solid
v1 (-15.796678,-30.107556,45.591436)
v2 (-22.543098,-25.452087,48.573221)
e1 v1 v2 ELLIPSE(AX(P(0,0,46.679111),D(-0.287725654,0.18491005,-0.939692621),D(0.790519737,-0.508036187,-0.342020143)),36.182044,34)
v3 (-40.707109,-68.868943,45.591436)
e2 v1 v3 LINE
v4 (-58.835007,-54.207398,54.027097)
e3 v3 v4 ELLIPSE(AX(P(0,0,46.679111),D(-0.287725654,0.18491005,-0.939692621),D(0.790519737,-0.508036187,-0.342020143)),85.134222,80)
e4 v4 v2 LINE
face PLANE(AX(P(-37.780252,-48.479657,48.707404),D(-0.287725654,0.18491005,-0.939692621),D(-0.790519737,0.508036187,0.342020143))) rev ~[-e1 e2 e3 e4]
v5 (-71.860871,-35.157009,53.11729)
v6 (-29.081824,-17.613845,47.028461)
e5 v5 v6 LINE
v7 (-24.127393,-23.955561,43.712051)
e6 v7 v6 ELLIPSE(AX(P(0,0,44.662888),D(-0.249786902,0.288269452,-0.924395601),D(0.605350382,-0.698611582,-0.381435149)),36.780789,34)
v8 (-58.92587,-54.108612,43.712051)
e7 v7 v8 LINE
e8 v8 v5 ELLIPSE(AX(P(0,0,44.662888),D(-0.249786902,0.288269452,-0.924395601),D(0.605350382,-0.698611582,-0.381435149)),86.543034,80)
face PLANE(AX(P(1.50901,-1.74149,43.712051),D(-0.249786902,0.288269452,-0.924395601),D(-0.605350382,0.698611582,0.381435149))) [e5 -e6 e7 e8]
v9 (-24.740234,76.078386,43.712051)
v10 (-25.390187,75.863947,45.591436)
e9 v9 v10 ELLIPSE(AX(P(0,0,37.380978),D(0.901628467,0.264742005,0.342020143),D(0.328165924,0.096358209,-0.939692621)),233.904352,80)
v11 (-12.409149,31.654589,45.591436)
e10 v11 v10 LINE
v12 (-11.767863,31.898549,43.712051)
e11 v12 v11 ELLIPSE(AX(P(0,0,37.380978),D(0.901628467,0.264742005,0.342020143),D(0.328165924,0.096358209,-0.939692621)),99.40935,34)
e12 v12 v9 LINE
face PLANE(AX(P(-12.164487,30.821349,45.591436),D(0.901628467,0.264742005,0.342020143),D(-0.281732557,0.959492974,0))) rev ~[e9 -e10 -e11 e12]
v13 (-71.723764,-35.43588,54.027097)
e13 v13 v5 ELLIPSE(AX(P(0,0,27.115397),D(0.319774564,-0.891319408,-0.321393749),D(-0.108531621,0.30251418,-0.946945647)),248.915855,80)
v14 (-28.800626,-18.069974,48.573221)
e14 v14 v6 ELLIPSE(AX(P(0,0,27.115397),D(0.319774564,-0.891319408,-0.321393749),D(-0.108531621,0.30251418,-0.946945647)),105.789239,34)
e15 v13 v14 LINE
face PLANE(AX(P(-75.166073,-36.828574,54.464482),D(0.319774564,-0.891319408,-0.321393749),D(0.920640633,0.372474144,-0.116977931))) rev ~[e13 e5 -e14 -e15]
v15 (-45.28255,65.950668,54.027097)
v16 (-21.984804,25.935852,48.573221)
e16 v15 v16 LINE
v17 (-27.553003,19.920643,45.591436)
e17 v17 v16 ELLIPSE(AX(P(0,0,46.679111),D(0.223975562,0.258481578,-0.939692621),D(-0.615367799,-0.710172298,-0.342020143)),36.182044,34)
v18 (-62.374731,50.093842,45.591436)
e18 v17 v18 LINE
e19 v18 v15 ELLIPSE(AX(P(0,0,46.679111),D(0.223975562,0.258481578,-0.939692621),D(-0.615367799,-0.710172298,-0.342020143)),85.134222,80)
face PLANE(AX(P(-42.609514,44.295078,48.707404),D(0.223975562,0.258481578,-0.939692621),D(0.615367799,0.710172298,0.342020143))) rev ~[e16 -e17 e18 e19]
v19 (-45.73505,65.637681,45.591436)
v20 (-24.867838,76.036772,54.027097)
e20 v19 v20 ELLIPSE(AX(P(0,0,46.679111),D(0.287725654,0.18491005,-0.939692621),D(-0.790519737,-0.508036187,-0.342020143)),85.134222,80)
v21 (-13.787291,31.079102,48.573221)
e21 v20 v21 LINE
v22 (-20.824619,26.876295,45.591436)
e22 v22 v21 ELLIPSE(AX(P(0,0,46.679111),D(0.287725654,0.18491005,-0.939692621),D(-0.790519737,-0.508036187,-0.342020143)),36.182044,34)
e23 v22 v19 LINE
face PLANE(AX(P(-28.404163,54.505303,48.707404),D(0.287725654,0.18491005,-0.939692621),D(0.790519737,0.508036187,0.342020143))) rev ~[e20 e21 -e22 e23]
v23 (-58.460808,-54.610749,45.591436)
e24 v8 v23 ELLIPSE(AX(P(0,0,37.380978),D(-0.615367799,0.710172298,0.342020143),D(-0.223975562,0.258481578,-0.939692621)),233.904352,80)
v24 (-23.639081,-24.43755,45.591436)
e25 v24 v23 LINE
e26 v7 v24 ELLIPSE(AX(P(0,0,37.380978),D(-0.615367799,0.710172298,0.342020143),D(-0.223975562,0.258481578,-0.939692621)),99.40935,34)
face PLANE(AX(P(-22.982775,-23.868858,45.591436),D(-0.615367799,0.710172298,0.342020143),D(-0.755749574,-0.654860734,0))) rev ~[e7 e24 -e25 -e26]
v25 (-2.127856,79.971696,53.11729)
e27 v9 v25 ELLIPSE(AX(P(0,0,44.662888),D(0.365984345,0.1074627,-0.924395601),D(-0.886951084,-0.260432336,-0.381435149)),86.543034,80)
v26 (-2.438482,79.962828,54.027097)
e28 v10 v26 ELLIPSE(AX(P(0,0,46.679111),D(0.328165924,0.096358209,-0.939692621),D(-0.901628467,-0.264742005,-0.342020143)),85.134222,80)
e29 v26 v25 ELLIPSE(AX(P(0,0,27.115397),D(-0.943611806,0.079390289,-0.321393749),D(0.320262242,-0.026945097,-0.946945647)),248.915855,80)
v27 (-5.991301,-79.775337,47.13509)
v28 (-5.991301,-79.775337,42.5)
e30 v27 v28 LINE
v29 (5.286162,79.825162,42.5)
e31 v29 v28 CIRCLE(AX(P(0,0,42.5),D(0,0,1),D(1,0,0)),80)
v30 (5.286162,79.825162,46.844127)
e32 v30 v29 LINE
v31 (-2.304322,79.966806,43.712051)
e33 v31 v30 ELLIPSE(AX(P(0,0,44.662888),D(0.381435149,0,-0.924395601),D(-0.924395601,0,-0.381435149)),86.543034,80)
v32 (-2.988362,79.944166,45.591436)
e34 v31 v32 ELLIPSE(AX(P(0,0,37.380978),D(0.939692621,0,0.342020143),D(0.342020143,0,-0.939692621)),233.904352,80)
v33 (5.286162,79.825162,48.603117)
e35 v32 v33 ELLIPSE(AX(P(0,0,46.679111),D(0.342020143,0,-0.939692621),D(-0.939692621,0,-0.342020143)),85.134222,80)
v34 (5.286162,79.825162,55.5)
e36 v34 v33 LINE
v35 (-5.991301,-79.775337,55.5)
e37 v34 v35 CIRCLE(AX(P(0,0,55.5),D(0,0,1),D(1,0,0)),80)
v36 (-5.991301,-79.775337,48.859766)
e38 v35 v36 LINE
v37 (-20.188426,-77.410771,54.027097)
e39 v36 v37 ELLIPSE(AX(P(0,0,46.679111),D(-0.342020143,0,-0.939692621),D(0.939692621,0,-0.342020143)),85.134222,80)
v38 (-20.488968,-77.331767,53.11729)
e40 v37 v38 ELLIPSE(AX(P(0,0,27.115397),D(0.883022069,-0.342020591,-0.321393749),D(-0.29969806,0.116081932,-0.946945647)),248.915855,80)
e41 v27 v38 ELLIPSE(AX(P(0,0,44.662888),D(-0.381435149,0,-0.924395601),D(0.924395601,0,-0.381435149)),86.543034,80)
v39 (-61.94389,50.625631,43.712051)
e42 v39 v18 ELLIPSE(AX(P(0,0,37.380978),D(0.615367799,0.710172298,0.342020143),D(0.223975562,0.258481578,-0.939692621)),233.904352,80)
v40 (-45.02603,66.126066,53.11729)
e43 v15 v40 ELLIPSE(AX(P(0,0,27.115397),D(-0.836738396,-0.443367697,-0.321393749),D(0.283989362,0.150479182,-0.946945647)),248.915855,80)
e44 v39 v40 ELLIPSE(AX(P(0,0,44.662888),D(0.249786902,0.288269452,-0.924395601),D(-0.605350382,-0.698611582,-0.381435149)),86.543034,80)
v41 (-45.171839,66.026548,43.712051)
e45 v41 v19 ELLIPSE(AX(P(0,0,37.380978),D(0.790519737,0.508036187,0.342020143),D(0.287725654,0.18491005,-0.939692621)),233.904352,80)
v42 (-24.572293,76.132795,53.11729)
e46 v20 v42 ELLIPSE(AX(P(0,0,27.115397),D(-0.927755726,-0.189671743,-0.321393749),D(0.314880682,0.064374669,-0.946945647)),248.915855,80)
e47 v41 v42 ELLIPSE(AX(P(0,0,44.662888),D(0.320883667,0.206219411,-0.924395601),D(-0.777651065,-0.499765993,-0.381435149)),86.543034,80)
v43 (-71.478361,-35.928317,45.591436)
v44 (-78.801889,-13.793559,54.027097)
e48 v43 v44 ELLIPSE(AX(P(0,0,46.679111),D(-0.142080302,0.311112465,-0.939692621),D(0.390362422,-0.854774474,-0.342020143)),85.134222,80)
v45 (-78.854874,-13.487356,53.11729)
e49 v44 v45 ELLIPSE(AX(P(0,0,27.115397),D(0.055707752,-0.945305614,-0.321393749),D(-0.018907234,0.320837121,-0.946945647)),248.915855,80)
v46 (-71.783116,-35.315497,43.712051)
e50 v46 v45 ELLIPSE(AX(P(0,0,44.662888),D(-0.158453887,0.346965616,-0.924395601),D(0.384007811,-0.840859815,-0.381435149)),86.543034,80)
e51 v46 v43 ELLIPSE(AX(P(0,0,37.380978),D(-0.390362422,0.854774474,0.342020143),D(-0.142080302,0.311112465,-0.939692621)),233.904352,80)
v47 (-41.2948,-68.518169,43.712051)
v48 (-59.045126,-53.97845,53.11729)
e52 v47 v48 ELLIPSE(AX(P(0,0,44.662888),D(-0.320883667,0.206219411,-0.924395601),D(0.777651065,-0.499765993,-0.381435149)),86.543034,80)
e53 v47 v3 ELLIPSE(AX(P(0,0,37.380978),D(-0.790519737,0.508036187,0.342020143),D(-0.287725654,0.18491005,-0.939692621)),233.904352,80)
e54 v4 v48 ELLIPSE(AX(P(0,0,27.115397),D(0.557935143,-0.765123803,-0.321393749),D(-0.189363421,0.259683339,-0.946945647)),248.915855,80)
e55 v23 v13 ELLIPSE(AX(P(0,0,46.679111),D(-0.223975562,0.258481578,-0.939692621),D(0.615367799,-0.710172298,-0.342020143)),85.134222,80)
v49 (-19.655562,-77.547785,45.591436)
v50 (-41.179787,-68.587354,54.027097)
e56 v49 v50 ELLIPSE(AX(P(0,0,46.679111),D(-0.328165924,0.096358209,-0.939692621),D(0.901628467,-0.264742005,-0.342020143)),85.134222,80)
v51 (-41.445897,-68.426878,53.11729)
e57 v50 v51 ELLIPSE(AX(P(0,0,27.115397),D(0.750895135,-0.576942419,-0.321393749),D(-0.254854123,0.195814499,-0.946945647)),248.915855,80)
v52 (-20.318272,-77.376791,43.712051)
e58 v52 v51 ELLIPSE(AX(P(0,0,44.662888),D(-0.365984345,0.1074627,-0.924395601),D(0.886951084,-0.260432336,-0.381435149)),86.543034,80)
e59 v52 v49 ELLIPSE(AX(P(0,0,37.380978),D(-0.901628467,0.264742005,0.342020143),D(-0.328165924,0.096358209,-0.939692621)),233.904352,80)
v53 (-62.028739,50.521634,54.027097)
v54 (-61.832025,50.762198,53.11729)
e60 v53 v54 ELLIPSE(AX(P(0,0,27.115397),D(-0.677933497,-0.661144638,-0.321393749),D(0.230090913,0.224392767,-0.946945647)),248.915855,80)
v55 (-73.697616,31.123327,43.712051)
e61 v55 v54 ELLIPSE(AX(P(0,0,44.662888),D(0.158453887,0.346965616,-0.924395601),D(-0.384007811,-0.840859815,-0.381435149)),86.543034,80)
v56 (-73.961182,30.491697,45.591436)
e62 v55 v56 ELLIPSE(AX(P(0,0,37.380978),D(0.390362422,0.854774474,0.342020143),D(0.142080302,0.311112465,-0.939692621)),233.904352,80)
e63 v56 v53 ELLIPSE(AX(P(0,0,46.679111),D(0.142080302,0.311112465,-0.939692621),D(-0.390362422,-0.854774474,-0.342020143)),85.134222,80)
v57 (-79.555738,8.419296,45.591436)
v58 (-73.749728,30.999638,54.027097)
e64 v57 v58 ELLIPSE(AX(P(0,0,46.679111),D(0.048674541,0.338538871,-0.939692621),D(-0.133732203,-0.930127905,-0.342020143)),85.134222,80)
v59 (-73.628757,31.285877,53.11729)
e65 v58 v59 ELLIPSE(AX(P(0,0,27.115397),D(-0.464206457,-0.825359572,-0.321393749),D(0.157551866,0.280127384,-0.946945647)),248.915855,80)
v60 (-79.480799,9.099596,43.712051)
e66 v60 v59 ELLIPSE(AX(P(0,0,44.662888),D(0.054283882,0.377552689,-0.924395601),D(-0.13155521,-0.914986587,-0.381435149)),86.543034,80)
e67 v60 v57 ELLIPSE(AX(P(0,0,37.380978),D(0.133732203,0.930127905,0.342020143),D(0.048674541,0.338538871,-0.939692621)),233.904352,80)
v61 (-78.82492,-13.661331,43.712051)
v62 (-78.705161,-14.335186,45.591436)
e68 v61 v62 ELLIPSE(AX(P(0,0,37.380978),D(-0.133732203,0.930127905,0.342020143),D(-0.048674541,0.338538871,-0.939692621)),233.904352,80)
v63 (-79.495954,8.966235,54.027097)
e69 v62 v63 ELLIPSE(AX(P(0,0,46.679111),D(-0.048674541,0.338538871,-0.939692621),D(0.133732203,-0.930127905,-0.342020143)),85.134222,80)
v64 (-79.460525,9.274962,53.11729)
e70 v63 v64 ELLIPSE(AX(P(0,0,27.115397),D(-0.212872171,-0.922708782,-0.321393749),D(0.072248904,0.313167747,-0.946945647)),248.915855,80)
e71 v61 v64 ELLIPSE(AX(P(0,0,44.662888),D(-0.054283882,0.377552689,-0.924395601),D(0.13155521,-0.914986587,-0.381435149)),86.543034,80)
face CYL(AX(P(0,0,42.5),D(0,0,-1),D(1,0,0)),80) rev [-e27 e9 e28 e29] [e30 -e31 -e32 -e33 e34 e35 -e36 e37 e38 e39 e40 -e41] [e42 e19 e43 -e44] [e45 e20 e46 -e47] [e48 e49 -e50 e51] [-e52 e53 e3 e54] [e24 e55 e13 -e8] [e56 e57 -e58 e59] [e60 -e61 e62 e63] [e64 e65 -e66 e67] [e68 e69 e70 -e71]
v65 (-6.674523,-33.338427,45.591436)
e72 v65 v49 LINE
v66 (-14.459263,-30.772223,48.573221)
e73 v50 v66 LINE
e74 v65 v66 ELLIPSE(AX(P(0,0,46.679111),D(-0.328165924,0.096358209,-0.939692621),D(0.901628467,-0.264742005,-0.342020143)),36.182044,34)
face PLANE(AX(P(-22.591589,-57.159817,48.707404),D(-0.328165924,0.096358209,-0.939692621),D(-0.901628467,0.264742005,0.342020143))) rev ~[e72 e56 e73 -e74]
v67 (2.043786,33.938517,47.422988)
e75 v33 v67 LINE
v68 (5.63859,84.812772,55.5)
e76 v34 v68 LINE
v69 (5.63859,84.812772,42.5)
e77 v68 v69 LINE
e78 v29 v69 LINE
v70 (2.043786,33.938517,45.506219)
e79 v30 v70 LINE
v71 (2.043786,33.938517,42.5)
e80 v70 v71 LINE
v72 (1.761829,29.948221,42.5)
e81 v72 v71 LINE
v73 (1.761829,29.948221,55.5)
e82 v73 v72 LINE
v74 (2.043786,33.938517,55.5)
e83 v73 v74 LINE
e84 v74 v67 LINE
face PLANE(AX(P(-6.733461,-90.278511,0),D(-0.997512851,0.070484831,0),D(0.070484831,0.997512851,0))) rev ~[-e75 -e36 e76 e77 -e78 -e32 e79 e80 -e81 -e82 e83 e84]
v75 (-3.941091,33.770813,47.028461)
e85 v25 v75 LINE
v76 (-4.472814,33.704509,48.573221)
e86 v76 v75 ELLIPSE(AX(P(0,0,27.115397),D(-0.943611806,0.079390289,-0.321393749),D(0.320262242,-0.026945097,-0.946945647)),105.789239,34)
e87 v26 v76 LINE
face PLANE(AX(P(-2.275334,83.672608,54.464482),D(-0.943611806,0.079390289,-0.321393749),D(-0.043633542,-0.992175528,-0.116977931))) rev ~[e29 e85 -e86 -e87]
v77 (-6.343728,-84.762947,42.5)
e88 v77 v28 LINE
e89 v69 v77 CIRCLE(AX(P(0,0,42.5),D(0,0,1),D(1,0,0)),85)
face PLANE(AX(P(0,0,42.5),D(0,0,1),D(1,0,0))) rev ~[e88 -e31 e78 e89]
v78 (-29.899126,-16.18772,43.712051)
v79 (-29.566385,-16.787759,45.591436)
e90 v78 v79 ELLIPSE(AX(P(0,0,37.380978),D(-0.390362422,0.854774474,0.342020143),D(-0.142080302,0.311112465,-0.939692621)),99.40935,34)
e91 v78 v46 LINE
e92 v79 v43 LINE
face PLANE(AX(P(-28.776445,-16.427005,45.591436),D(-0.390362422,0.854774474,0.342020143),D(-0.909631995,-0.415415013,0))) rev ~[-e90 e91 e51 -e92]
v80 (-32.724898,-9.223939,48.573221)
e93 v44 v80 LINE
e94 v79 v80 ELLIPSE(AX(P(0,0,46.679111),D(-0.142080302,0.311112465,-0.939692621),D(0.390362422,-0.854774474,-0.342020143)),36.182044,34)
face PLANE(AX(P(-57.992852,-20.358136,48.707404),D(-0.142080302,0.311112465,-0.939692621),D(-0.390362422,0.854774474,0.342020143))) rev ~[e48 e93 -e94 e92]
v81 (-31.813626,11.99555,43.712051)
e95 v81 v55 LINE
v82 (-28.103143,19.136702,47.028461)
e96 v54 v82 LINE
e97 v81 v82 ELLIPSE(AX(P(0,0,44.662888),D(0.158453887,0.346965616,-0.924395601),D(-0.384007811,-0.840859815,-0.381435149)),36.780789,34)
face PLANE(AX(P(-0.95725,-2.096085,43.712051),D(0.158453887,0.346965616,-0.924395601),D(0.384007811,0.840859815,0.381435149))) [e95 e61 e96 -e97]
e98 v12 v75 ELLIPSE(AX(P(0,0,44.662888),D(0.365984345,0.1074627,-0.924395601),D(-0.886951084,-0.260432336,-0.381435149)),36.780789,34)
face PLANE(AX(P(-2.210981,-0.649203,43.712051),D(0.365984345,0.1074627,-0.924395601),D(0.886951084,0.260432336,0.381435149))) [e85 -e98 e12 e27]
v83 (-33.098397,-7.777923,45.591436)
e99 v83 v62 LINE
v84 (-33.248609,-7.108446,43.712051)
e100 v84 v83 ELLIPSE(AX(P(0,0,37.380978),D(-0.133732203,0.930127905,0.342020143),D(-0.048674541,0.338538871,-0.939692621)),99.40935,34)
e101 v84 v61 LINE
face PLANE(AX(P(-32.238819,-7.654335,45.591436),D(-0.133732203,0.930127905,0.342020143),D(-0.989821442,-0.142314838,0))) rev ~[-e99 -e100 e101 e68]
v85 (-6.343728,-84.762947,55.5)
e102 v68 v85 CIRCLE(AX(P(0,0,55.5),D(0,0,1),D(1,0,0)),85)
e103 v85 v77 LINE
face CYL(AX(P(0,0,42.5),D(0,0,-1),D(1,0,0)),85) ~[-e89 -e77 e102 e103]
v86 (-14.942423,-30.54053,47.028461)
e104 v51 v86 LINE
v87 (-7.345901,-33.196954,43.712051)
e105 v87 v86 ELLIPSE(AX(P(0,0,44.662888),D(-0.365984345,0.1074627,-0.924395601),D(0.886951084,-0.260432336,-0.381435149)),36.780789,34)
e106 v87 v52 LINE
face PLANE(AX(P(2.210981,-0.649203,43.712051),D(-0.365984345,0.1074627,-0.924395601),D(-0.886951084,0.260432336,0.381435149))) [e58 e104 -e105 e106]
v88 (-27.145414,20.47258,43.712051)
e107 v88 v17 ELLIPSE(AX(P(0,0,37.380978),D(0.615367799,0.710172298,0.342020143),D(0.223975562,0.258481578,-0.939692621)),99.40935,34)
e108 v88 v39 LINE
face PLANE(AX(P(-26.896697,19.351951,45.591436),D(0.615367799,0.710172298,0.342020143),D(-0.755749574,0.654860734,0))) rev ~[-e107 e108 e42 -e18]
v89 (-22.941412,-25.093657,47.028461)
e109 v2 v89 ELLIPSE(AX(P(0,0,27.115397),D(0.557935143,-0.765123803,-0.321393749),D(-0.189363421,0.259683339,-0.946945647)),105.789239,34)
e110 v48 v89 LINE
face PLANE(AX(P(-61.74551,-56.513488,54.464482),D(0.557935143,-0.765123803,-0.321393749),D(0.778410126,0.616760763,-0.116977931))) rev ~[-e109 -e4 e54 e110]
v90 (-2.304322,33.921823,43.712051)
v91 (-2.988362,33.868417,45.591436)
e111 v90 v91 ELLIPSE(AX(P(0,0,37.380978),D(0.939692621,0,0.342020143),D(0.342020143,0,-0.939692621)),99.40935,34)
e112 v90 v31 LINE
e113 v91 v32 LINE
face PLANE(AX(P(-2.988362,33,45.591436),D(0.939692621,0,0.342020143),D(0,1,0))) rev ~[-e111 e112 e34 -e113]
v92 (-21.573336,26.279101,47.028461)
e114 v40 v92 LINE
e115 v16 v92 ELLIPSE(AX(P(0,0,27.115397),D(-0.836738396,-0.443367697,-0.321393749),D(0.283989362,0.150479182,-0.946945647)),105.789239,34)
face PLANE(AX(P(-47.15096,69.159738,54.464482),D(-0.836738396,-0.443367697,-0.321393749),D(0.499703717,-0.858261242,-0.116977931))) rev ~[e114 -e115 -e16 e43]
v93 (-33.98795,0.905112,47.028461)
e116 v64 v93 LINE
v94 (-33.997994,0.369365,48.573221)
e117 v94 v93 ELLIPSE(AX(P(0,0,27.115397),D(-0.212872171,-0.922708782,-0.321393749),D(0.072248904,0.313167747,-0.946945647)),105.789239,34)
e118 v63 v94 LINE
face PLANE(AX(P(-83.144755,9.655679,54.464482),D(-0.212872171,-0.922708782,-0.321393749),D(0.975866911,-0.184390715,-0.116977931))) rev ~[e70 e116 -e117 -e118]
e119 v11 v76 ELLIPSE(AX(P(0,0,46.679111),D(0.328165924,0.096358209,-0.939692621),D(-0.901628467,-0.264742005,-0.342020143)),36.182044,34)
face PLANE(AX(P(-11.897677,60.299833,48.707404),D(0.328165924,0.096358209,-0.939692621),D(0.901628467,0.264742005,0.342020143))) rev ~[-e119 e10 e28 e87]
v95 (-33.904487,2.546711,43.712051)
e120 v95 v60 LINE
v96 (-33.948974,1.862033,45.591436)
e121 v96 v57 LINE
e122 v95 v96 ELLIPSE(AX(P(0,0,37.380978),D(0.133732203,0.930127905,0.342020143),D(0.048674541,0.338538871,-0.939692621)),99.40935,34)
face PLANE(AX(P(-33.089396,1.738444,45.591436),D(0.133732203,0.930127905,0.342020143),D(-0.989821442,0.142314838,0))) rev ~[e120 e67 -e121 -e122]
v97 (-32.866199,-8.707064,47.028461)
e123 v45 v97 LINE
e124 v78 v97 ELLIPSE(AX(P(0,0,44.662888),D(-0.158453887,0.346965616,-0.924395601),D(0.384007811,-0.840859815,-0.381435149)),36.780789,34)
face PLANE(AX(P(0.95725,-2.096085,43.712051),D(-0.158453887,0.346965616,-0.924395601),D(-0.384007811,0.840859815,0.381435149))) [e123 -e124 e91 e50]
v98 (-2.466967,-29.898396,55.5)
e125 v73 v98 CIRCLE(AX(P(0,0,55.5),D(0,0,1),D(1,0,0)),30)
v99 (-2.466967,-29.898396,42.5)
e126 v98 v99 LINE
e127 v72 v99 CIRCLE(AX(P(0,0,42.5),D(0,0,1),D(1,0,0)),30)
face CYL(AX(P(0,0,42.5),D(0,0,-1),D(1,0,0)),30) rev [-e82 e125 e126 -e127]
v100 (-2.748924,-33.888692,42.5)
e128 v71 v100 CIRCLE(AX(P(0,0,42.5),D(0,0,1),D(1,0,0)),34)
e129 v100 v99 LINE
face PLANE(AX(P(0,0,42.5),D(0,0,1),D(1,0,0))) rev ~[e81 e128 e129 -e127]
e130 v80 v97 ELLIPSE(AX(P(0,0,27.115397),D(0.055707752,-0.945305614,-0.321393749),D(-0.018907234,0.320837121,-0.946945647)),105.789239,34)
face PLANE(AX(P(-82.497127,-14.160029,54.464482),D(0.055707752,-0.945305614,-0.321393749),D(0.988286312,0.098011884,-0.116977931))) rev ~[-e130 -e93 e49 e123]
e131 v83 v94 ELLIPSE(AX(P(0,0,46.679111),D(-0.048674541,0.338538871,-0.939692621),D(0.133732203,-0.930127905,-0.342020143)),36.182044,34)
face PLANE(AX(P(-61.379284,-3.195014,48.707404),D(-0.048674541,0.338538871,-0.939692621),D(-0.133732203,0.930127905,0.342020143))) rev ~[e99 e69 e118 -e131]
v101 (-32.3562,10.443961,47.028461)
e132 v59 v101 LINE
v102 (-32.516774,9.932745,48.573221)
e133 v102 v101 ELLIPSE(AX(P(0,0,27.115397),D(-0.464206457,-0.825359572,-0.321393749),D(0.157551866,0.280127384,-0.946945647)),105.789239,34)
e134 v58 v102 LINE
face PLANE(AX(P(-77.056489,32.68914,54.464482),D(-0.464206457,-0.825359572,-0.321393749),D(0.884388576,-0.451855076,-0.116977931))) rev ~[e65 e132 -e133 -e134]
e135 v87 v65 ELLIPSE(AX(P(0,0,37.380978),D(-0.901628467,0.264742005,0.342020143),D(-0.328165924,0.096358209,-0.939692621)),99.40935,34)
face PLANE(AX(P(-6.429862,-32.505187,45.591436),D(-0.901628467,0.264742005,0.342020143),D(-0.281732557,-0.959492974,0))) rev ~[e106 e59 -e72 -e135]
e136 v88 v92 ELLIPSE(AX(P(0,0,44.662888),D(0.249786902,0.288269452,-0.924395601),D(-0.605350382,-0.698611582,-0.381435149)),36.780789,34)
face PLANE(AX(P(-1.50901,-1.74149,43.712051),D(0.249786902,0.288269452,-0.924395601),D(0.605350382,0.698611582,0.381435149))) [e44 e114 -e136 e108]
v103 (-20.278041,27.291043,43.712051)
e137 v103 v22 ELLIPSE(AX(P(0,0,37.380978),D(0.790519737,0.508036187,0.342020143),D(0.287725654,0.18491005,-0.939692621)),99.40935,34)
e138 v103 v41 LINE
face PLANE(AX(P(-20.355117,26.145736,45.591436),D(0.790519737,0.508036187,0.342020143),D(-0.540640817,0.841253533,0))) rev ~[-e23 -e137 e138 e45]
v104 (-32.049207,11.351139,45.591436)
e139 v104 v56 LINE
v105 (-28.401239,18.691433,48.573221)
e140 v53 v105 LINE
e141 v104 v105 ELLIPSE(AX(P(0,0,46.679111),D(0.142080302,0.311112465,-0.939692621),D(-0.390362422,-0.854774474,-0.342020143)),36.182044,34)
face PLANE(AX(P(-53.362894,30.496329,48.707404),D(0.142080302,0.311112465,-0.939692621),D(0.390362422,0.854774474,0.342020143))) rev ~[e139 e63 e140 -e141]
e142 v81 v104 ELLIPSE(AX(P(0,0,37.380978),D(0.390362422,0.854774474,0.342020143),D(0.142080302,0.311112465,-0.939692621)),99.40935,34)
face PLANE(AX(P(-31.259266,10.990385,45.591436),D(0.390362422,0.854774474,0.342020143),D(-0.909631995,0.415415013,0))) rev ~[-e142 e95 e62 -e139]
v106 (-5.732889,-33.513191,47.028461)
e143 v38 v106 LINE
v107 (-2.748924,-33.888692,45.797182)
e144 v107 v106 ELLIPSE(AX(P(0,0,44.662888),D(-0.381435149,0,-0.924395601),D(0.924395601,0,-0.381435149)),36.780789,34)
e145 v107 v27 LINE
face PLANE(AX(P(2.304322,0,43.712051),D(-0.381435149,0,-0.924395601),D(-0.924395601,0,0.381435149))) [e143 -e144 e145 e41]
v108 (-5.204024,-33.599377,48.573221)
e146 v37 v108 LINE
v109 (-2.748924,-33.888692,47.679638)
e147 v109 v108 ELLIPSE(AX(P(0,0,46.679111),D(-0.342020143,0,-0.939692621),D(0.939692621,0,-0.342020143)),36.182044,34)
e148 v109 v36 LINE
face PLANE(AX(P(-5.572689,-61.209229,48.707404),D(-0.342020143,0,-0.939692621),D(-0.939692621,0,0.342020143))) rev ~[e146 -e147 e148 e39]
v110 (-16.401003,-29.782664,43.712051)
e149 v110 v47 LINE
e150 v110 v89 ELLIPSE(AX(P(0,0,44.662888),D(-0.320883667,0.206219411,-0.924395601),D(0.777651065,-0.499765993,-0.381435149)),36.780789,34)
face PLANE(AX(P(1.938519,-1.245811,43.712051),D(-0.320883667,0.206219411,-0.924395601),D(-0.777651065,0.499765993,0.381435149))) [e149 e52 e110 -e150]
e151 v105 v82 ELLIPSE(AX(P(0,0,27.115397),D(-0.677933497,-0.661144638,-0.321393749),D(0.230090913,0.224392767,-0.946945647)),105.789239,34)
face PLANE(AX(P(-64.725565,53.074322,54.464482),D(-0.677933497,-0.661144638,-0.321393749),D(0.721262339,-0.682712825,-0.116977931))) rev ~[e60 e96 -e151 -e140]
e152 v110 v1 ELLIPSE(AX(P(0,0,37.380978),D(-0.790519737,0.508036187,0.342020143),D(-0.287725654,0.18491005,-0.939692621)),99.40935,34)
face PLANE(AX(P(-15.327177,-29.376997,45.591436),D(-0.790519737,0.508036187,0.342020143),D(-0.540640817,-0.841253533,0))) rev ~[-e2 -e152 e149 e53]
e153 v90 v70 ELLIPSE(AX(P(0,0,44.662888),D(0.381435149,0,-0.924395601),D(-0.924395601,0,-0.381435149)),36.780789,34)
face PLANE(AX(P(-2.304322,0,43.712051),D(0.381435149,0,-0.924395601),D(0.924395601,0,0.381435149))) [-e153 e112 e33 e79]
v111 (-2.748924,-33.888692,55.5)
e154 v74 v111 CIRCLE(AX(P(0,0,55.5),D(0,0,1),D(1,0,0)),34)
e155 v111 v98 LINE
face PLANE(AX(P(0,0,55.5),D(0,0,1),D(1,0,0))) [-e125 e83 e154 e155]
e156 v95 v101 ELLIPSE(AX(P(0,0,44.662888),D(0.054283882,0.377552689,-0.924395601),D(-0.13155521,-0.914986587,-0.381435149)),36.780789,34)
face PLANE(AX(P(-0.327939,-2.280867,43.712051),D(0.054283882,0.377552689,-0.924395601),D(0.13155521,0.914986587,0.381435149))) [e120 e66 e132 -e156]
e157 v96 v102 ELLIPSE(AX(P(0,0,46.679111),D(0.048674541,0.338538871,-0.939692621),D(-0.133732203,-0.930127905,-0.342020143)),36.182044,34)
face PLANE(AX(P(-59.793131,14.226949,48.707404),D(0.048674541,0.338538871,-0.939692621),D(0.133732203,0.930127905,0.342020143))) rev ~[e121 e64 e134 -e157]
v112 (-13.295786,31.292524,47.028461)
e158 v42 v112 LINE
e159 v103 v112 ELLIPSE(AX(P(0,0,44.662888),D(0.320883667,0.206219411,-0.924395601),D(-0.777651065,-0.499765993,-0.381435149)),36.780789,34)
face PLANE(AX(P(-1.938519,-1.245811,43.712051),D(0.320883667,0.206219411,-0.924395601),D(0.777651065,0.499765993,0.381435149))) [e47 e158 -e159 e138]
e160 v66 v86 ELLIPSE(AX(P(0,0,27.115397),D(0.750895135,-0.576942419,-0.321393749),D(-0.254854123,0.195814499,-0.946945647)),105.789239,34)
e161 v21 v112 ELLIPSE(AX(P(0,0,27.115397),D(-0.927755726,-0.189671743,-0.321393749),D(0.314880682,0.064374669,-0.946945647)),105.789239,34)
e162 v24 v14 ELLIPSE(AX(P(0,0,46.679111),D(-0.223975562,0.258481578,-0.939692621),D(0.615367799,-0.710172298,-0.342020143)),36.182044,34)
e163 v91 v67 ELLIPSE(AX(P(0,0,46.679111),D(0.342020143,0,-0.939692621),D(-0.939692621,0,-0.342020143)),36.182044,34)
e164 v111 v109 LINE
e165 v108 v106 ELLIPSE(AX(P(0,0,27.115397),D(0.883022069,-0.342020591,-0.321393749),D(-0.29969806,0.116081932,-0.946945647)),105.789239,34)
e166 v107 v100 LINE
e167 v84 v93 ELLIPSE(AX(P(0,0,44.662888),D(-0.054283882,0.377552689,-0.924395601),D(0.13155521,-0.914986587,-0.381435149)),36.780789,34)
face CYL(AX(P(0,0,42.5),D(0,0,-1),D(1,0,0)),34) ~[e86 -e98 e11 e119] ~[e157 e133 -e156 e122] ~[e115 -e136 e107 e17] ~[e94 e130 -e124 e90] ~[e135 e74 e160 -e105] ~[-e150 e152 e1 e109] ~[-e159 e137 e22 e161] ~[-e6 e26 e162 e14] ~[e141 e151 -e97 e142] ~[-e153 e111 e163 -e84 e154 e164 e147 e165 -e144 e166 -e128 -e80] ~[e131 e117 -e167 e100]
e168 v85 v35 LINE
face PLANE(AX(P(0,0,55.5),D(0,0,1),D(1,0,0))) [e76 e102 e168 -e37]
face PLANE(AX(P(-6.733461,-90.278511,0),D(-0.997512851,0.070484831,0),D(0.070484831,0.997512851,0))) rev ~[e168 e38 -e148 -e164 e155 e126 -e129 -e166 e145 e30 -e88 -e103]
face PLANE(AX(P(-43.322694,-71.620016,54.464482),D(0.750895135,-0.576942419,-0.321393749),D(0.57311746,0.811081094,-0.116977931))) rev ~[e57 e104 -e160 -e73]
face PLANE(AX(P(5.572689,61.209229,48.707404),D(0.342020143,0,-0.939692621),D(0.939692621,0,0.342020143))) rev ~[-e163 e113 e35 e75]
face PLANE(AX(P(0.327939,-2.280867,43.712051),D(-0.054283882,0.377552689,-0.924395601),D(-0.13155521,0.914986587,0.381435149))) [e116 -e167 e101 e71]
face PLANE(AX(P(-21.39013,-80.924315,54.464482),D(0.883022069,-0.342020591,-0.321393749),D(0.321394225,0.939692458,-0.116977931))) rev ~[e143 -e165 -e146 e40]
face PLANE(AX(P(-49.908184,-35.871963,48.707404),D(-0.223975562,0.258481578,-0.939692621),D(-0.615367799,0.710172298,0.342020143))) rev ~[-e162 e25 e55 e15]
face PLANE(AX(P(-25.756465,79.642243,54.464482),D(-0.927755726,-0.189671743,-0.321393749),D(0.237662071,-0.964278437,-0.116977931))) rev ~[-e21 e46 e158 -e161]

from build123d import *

# Parameters (mm, degrees)
TUBE043_R                 = 85
TUBE043_R_2               = 80
TUBE043_DEPTH             = 13
TUBE042_R                 = 100
TUBE042_R_2               = 80
TUBE042_DEPTH             = 200
PAD041_DEPTH              = 100
PAD042_DEPTH              = 2
COMMON020_PLACEMENT_ANGLE = 20
ARRAY017_COUNT            = 22
ARRAY017_PLACEMENT_ANGLE  = 180
TUBE044_R                 = 34
TUBE044_R_2               = 30
TUBE044_DEPTH             = 13
PAD040_DEPTH              = 100


with BuildPart() as tube043:
    # Tube043 → Tube043 (new body)
    with BuildSketch(Plane.XY.offset(42.5)):
        Circle(TUBE043_R)
        Circle(TUBE043_R_2, mode=Mode.SUBTRACT)
    extrude(amount=TUBE043_DEPTH)


with BuildPart() as tube042:
    # Tube042 → Tube042 (new body)
    with BuildSketch(Plane.XY):
        Circle(TUBE042_R)
        Circle(TUBE042_R_2, mode=Mode.SUBTRACT)
    extrude(amount=TUBE042_DEPTH)


with BuildPart() as body042:
    # Sketch041 → Pad041 (new body)
    with BuildSketch(Plane.XZ):
        Polygon((0, 0), (0, 2), (26, 0.9), (26, 0), align=None)
    extrude(amount=PAD041_DEPTH)


with BuildPart() as body042_1:
    # Body042 placement: moved
    add(body042.part.moved(Location((-5, 0, 5))))


with BuildPart() as cut014:
    # Sketch042 → Pad042 (new body)
    with BuildSketch(Plane.XY):
        Polygon((0, 0), (0, -52), (25.94305, -47.924315), (8.5, 0), align=None)
    extrude(amount=PAD042_DEPTH)


with BuildPart() as cut014_1:
    # Body043 placement: moved
    add(cut014.part.moved(Location((-5, -33, 5))))

    # Common020: intersect Body042
    add(body042_1.part, mode=Mode.INTERSECT)


with BuildPart() as cut014_2:
    # Common020 placement: moved
    add(cut014_1.part.rotate(Axis((0, 0, 0), (0, 1, 0)), COMMON020_PLACEMENT_ANGLE))

    # Array017: Cut014 ×22 about axis
    array017_axis = Axis((0, 0, 0), (0, 0, 1))


with BuildPart() as cut014_3:
    add(cut014_2.part)
    for i in range(1, ARRAY017_COUNT):
        add(cut014_2.part.rotate(array017_axis, i * 360 / ARRAY017_COUNT))


with BuildPart() as cut014_4:
    # Array017 placement: moved
    add(cut014_3.part.moved(Location((0, 0, 52))).rotate(Axis((0, 0, 52), (0, 1, 0)), ARRAY017_PLACEMENT_ANGLE))

    # Cut014: cut Tube042
    add(tube042.part, mode=Mode.SUBTRACT)


with BuildPart() as pre3stat001:
    # Tube044 → Tube044 (new body)
    with BuildSketch(Plane.XY.offset(42.5)):
        Circle(TUBE044_R)
        Circle(TUBE044_R_2, mode=Mode.SUBTRACT)
    extrude(amount=TUBE044_DEPTH)

    # Fusion019: union Tube043, Cut014
    add(tube043.part)
    add(cut014_4.part)


with BuildPart() as stator3h1:
    # Sketch040 → Pad040 (new body)
    with BuildSketch(Plane.XY):
        Polygon((-6.733461, -90.278511), (6.859371, 102.08947), (-116.658012, 102.08947), (-116.658012, -85.846069), align=None)
    extrude(amount=PAD040_DEPTH)

    # Common021: intersect Pre3Stat001
    add(pre3stat001.part, mode=Mode.INTERSECT)


solid = stator3h1.part
